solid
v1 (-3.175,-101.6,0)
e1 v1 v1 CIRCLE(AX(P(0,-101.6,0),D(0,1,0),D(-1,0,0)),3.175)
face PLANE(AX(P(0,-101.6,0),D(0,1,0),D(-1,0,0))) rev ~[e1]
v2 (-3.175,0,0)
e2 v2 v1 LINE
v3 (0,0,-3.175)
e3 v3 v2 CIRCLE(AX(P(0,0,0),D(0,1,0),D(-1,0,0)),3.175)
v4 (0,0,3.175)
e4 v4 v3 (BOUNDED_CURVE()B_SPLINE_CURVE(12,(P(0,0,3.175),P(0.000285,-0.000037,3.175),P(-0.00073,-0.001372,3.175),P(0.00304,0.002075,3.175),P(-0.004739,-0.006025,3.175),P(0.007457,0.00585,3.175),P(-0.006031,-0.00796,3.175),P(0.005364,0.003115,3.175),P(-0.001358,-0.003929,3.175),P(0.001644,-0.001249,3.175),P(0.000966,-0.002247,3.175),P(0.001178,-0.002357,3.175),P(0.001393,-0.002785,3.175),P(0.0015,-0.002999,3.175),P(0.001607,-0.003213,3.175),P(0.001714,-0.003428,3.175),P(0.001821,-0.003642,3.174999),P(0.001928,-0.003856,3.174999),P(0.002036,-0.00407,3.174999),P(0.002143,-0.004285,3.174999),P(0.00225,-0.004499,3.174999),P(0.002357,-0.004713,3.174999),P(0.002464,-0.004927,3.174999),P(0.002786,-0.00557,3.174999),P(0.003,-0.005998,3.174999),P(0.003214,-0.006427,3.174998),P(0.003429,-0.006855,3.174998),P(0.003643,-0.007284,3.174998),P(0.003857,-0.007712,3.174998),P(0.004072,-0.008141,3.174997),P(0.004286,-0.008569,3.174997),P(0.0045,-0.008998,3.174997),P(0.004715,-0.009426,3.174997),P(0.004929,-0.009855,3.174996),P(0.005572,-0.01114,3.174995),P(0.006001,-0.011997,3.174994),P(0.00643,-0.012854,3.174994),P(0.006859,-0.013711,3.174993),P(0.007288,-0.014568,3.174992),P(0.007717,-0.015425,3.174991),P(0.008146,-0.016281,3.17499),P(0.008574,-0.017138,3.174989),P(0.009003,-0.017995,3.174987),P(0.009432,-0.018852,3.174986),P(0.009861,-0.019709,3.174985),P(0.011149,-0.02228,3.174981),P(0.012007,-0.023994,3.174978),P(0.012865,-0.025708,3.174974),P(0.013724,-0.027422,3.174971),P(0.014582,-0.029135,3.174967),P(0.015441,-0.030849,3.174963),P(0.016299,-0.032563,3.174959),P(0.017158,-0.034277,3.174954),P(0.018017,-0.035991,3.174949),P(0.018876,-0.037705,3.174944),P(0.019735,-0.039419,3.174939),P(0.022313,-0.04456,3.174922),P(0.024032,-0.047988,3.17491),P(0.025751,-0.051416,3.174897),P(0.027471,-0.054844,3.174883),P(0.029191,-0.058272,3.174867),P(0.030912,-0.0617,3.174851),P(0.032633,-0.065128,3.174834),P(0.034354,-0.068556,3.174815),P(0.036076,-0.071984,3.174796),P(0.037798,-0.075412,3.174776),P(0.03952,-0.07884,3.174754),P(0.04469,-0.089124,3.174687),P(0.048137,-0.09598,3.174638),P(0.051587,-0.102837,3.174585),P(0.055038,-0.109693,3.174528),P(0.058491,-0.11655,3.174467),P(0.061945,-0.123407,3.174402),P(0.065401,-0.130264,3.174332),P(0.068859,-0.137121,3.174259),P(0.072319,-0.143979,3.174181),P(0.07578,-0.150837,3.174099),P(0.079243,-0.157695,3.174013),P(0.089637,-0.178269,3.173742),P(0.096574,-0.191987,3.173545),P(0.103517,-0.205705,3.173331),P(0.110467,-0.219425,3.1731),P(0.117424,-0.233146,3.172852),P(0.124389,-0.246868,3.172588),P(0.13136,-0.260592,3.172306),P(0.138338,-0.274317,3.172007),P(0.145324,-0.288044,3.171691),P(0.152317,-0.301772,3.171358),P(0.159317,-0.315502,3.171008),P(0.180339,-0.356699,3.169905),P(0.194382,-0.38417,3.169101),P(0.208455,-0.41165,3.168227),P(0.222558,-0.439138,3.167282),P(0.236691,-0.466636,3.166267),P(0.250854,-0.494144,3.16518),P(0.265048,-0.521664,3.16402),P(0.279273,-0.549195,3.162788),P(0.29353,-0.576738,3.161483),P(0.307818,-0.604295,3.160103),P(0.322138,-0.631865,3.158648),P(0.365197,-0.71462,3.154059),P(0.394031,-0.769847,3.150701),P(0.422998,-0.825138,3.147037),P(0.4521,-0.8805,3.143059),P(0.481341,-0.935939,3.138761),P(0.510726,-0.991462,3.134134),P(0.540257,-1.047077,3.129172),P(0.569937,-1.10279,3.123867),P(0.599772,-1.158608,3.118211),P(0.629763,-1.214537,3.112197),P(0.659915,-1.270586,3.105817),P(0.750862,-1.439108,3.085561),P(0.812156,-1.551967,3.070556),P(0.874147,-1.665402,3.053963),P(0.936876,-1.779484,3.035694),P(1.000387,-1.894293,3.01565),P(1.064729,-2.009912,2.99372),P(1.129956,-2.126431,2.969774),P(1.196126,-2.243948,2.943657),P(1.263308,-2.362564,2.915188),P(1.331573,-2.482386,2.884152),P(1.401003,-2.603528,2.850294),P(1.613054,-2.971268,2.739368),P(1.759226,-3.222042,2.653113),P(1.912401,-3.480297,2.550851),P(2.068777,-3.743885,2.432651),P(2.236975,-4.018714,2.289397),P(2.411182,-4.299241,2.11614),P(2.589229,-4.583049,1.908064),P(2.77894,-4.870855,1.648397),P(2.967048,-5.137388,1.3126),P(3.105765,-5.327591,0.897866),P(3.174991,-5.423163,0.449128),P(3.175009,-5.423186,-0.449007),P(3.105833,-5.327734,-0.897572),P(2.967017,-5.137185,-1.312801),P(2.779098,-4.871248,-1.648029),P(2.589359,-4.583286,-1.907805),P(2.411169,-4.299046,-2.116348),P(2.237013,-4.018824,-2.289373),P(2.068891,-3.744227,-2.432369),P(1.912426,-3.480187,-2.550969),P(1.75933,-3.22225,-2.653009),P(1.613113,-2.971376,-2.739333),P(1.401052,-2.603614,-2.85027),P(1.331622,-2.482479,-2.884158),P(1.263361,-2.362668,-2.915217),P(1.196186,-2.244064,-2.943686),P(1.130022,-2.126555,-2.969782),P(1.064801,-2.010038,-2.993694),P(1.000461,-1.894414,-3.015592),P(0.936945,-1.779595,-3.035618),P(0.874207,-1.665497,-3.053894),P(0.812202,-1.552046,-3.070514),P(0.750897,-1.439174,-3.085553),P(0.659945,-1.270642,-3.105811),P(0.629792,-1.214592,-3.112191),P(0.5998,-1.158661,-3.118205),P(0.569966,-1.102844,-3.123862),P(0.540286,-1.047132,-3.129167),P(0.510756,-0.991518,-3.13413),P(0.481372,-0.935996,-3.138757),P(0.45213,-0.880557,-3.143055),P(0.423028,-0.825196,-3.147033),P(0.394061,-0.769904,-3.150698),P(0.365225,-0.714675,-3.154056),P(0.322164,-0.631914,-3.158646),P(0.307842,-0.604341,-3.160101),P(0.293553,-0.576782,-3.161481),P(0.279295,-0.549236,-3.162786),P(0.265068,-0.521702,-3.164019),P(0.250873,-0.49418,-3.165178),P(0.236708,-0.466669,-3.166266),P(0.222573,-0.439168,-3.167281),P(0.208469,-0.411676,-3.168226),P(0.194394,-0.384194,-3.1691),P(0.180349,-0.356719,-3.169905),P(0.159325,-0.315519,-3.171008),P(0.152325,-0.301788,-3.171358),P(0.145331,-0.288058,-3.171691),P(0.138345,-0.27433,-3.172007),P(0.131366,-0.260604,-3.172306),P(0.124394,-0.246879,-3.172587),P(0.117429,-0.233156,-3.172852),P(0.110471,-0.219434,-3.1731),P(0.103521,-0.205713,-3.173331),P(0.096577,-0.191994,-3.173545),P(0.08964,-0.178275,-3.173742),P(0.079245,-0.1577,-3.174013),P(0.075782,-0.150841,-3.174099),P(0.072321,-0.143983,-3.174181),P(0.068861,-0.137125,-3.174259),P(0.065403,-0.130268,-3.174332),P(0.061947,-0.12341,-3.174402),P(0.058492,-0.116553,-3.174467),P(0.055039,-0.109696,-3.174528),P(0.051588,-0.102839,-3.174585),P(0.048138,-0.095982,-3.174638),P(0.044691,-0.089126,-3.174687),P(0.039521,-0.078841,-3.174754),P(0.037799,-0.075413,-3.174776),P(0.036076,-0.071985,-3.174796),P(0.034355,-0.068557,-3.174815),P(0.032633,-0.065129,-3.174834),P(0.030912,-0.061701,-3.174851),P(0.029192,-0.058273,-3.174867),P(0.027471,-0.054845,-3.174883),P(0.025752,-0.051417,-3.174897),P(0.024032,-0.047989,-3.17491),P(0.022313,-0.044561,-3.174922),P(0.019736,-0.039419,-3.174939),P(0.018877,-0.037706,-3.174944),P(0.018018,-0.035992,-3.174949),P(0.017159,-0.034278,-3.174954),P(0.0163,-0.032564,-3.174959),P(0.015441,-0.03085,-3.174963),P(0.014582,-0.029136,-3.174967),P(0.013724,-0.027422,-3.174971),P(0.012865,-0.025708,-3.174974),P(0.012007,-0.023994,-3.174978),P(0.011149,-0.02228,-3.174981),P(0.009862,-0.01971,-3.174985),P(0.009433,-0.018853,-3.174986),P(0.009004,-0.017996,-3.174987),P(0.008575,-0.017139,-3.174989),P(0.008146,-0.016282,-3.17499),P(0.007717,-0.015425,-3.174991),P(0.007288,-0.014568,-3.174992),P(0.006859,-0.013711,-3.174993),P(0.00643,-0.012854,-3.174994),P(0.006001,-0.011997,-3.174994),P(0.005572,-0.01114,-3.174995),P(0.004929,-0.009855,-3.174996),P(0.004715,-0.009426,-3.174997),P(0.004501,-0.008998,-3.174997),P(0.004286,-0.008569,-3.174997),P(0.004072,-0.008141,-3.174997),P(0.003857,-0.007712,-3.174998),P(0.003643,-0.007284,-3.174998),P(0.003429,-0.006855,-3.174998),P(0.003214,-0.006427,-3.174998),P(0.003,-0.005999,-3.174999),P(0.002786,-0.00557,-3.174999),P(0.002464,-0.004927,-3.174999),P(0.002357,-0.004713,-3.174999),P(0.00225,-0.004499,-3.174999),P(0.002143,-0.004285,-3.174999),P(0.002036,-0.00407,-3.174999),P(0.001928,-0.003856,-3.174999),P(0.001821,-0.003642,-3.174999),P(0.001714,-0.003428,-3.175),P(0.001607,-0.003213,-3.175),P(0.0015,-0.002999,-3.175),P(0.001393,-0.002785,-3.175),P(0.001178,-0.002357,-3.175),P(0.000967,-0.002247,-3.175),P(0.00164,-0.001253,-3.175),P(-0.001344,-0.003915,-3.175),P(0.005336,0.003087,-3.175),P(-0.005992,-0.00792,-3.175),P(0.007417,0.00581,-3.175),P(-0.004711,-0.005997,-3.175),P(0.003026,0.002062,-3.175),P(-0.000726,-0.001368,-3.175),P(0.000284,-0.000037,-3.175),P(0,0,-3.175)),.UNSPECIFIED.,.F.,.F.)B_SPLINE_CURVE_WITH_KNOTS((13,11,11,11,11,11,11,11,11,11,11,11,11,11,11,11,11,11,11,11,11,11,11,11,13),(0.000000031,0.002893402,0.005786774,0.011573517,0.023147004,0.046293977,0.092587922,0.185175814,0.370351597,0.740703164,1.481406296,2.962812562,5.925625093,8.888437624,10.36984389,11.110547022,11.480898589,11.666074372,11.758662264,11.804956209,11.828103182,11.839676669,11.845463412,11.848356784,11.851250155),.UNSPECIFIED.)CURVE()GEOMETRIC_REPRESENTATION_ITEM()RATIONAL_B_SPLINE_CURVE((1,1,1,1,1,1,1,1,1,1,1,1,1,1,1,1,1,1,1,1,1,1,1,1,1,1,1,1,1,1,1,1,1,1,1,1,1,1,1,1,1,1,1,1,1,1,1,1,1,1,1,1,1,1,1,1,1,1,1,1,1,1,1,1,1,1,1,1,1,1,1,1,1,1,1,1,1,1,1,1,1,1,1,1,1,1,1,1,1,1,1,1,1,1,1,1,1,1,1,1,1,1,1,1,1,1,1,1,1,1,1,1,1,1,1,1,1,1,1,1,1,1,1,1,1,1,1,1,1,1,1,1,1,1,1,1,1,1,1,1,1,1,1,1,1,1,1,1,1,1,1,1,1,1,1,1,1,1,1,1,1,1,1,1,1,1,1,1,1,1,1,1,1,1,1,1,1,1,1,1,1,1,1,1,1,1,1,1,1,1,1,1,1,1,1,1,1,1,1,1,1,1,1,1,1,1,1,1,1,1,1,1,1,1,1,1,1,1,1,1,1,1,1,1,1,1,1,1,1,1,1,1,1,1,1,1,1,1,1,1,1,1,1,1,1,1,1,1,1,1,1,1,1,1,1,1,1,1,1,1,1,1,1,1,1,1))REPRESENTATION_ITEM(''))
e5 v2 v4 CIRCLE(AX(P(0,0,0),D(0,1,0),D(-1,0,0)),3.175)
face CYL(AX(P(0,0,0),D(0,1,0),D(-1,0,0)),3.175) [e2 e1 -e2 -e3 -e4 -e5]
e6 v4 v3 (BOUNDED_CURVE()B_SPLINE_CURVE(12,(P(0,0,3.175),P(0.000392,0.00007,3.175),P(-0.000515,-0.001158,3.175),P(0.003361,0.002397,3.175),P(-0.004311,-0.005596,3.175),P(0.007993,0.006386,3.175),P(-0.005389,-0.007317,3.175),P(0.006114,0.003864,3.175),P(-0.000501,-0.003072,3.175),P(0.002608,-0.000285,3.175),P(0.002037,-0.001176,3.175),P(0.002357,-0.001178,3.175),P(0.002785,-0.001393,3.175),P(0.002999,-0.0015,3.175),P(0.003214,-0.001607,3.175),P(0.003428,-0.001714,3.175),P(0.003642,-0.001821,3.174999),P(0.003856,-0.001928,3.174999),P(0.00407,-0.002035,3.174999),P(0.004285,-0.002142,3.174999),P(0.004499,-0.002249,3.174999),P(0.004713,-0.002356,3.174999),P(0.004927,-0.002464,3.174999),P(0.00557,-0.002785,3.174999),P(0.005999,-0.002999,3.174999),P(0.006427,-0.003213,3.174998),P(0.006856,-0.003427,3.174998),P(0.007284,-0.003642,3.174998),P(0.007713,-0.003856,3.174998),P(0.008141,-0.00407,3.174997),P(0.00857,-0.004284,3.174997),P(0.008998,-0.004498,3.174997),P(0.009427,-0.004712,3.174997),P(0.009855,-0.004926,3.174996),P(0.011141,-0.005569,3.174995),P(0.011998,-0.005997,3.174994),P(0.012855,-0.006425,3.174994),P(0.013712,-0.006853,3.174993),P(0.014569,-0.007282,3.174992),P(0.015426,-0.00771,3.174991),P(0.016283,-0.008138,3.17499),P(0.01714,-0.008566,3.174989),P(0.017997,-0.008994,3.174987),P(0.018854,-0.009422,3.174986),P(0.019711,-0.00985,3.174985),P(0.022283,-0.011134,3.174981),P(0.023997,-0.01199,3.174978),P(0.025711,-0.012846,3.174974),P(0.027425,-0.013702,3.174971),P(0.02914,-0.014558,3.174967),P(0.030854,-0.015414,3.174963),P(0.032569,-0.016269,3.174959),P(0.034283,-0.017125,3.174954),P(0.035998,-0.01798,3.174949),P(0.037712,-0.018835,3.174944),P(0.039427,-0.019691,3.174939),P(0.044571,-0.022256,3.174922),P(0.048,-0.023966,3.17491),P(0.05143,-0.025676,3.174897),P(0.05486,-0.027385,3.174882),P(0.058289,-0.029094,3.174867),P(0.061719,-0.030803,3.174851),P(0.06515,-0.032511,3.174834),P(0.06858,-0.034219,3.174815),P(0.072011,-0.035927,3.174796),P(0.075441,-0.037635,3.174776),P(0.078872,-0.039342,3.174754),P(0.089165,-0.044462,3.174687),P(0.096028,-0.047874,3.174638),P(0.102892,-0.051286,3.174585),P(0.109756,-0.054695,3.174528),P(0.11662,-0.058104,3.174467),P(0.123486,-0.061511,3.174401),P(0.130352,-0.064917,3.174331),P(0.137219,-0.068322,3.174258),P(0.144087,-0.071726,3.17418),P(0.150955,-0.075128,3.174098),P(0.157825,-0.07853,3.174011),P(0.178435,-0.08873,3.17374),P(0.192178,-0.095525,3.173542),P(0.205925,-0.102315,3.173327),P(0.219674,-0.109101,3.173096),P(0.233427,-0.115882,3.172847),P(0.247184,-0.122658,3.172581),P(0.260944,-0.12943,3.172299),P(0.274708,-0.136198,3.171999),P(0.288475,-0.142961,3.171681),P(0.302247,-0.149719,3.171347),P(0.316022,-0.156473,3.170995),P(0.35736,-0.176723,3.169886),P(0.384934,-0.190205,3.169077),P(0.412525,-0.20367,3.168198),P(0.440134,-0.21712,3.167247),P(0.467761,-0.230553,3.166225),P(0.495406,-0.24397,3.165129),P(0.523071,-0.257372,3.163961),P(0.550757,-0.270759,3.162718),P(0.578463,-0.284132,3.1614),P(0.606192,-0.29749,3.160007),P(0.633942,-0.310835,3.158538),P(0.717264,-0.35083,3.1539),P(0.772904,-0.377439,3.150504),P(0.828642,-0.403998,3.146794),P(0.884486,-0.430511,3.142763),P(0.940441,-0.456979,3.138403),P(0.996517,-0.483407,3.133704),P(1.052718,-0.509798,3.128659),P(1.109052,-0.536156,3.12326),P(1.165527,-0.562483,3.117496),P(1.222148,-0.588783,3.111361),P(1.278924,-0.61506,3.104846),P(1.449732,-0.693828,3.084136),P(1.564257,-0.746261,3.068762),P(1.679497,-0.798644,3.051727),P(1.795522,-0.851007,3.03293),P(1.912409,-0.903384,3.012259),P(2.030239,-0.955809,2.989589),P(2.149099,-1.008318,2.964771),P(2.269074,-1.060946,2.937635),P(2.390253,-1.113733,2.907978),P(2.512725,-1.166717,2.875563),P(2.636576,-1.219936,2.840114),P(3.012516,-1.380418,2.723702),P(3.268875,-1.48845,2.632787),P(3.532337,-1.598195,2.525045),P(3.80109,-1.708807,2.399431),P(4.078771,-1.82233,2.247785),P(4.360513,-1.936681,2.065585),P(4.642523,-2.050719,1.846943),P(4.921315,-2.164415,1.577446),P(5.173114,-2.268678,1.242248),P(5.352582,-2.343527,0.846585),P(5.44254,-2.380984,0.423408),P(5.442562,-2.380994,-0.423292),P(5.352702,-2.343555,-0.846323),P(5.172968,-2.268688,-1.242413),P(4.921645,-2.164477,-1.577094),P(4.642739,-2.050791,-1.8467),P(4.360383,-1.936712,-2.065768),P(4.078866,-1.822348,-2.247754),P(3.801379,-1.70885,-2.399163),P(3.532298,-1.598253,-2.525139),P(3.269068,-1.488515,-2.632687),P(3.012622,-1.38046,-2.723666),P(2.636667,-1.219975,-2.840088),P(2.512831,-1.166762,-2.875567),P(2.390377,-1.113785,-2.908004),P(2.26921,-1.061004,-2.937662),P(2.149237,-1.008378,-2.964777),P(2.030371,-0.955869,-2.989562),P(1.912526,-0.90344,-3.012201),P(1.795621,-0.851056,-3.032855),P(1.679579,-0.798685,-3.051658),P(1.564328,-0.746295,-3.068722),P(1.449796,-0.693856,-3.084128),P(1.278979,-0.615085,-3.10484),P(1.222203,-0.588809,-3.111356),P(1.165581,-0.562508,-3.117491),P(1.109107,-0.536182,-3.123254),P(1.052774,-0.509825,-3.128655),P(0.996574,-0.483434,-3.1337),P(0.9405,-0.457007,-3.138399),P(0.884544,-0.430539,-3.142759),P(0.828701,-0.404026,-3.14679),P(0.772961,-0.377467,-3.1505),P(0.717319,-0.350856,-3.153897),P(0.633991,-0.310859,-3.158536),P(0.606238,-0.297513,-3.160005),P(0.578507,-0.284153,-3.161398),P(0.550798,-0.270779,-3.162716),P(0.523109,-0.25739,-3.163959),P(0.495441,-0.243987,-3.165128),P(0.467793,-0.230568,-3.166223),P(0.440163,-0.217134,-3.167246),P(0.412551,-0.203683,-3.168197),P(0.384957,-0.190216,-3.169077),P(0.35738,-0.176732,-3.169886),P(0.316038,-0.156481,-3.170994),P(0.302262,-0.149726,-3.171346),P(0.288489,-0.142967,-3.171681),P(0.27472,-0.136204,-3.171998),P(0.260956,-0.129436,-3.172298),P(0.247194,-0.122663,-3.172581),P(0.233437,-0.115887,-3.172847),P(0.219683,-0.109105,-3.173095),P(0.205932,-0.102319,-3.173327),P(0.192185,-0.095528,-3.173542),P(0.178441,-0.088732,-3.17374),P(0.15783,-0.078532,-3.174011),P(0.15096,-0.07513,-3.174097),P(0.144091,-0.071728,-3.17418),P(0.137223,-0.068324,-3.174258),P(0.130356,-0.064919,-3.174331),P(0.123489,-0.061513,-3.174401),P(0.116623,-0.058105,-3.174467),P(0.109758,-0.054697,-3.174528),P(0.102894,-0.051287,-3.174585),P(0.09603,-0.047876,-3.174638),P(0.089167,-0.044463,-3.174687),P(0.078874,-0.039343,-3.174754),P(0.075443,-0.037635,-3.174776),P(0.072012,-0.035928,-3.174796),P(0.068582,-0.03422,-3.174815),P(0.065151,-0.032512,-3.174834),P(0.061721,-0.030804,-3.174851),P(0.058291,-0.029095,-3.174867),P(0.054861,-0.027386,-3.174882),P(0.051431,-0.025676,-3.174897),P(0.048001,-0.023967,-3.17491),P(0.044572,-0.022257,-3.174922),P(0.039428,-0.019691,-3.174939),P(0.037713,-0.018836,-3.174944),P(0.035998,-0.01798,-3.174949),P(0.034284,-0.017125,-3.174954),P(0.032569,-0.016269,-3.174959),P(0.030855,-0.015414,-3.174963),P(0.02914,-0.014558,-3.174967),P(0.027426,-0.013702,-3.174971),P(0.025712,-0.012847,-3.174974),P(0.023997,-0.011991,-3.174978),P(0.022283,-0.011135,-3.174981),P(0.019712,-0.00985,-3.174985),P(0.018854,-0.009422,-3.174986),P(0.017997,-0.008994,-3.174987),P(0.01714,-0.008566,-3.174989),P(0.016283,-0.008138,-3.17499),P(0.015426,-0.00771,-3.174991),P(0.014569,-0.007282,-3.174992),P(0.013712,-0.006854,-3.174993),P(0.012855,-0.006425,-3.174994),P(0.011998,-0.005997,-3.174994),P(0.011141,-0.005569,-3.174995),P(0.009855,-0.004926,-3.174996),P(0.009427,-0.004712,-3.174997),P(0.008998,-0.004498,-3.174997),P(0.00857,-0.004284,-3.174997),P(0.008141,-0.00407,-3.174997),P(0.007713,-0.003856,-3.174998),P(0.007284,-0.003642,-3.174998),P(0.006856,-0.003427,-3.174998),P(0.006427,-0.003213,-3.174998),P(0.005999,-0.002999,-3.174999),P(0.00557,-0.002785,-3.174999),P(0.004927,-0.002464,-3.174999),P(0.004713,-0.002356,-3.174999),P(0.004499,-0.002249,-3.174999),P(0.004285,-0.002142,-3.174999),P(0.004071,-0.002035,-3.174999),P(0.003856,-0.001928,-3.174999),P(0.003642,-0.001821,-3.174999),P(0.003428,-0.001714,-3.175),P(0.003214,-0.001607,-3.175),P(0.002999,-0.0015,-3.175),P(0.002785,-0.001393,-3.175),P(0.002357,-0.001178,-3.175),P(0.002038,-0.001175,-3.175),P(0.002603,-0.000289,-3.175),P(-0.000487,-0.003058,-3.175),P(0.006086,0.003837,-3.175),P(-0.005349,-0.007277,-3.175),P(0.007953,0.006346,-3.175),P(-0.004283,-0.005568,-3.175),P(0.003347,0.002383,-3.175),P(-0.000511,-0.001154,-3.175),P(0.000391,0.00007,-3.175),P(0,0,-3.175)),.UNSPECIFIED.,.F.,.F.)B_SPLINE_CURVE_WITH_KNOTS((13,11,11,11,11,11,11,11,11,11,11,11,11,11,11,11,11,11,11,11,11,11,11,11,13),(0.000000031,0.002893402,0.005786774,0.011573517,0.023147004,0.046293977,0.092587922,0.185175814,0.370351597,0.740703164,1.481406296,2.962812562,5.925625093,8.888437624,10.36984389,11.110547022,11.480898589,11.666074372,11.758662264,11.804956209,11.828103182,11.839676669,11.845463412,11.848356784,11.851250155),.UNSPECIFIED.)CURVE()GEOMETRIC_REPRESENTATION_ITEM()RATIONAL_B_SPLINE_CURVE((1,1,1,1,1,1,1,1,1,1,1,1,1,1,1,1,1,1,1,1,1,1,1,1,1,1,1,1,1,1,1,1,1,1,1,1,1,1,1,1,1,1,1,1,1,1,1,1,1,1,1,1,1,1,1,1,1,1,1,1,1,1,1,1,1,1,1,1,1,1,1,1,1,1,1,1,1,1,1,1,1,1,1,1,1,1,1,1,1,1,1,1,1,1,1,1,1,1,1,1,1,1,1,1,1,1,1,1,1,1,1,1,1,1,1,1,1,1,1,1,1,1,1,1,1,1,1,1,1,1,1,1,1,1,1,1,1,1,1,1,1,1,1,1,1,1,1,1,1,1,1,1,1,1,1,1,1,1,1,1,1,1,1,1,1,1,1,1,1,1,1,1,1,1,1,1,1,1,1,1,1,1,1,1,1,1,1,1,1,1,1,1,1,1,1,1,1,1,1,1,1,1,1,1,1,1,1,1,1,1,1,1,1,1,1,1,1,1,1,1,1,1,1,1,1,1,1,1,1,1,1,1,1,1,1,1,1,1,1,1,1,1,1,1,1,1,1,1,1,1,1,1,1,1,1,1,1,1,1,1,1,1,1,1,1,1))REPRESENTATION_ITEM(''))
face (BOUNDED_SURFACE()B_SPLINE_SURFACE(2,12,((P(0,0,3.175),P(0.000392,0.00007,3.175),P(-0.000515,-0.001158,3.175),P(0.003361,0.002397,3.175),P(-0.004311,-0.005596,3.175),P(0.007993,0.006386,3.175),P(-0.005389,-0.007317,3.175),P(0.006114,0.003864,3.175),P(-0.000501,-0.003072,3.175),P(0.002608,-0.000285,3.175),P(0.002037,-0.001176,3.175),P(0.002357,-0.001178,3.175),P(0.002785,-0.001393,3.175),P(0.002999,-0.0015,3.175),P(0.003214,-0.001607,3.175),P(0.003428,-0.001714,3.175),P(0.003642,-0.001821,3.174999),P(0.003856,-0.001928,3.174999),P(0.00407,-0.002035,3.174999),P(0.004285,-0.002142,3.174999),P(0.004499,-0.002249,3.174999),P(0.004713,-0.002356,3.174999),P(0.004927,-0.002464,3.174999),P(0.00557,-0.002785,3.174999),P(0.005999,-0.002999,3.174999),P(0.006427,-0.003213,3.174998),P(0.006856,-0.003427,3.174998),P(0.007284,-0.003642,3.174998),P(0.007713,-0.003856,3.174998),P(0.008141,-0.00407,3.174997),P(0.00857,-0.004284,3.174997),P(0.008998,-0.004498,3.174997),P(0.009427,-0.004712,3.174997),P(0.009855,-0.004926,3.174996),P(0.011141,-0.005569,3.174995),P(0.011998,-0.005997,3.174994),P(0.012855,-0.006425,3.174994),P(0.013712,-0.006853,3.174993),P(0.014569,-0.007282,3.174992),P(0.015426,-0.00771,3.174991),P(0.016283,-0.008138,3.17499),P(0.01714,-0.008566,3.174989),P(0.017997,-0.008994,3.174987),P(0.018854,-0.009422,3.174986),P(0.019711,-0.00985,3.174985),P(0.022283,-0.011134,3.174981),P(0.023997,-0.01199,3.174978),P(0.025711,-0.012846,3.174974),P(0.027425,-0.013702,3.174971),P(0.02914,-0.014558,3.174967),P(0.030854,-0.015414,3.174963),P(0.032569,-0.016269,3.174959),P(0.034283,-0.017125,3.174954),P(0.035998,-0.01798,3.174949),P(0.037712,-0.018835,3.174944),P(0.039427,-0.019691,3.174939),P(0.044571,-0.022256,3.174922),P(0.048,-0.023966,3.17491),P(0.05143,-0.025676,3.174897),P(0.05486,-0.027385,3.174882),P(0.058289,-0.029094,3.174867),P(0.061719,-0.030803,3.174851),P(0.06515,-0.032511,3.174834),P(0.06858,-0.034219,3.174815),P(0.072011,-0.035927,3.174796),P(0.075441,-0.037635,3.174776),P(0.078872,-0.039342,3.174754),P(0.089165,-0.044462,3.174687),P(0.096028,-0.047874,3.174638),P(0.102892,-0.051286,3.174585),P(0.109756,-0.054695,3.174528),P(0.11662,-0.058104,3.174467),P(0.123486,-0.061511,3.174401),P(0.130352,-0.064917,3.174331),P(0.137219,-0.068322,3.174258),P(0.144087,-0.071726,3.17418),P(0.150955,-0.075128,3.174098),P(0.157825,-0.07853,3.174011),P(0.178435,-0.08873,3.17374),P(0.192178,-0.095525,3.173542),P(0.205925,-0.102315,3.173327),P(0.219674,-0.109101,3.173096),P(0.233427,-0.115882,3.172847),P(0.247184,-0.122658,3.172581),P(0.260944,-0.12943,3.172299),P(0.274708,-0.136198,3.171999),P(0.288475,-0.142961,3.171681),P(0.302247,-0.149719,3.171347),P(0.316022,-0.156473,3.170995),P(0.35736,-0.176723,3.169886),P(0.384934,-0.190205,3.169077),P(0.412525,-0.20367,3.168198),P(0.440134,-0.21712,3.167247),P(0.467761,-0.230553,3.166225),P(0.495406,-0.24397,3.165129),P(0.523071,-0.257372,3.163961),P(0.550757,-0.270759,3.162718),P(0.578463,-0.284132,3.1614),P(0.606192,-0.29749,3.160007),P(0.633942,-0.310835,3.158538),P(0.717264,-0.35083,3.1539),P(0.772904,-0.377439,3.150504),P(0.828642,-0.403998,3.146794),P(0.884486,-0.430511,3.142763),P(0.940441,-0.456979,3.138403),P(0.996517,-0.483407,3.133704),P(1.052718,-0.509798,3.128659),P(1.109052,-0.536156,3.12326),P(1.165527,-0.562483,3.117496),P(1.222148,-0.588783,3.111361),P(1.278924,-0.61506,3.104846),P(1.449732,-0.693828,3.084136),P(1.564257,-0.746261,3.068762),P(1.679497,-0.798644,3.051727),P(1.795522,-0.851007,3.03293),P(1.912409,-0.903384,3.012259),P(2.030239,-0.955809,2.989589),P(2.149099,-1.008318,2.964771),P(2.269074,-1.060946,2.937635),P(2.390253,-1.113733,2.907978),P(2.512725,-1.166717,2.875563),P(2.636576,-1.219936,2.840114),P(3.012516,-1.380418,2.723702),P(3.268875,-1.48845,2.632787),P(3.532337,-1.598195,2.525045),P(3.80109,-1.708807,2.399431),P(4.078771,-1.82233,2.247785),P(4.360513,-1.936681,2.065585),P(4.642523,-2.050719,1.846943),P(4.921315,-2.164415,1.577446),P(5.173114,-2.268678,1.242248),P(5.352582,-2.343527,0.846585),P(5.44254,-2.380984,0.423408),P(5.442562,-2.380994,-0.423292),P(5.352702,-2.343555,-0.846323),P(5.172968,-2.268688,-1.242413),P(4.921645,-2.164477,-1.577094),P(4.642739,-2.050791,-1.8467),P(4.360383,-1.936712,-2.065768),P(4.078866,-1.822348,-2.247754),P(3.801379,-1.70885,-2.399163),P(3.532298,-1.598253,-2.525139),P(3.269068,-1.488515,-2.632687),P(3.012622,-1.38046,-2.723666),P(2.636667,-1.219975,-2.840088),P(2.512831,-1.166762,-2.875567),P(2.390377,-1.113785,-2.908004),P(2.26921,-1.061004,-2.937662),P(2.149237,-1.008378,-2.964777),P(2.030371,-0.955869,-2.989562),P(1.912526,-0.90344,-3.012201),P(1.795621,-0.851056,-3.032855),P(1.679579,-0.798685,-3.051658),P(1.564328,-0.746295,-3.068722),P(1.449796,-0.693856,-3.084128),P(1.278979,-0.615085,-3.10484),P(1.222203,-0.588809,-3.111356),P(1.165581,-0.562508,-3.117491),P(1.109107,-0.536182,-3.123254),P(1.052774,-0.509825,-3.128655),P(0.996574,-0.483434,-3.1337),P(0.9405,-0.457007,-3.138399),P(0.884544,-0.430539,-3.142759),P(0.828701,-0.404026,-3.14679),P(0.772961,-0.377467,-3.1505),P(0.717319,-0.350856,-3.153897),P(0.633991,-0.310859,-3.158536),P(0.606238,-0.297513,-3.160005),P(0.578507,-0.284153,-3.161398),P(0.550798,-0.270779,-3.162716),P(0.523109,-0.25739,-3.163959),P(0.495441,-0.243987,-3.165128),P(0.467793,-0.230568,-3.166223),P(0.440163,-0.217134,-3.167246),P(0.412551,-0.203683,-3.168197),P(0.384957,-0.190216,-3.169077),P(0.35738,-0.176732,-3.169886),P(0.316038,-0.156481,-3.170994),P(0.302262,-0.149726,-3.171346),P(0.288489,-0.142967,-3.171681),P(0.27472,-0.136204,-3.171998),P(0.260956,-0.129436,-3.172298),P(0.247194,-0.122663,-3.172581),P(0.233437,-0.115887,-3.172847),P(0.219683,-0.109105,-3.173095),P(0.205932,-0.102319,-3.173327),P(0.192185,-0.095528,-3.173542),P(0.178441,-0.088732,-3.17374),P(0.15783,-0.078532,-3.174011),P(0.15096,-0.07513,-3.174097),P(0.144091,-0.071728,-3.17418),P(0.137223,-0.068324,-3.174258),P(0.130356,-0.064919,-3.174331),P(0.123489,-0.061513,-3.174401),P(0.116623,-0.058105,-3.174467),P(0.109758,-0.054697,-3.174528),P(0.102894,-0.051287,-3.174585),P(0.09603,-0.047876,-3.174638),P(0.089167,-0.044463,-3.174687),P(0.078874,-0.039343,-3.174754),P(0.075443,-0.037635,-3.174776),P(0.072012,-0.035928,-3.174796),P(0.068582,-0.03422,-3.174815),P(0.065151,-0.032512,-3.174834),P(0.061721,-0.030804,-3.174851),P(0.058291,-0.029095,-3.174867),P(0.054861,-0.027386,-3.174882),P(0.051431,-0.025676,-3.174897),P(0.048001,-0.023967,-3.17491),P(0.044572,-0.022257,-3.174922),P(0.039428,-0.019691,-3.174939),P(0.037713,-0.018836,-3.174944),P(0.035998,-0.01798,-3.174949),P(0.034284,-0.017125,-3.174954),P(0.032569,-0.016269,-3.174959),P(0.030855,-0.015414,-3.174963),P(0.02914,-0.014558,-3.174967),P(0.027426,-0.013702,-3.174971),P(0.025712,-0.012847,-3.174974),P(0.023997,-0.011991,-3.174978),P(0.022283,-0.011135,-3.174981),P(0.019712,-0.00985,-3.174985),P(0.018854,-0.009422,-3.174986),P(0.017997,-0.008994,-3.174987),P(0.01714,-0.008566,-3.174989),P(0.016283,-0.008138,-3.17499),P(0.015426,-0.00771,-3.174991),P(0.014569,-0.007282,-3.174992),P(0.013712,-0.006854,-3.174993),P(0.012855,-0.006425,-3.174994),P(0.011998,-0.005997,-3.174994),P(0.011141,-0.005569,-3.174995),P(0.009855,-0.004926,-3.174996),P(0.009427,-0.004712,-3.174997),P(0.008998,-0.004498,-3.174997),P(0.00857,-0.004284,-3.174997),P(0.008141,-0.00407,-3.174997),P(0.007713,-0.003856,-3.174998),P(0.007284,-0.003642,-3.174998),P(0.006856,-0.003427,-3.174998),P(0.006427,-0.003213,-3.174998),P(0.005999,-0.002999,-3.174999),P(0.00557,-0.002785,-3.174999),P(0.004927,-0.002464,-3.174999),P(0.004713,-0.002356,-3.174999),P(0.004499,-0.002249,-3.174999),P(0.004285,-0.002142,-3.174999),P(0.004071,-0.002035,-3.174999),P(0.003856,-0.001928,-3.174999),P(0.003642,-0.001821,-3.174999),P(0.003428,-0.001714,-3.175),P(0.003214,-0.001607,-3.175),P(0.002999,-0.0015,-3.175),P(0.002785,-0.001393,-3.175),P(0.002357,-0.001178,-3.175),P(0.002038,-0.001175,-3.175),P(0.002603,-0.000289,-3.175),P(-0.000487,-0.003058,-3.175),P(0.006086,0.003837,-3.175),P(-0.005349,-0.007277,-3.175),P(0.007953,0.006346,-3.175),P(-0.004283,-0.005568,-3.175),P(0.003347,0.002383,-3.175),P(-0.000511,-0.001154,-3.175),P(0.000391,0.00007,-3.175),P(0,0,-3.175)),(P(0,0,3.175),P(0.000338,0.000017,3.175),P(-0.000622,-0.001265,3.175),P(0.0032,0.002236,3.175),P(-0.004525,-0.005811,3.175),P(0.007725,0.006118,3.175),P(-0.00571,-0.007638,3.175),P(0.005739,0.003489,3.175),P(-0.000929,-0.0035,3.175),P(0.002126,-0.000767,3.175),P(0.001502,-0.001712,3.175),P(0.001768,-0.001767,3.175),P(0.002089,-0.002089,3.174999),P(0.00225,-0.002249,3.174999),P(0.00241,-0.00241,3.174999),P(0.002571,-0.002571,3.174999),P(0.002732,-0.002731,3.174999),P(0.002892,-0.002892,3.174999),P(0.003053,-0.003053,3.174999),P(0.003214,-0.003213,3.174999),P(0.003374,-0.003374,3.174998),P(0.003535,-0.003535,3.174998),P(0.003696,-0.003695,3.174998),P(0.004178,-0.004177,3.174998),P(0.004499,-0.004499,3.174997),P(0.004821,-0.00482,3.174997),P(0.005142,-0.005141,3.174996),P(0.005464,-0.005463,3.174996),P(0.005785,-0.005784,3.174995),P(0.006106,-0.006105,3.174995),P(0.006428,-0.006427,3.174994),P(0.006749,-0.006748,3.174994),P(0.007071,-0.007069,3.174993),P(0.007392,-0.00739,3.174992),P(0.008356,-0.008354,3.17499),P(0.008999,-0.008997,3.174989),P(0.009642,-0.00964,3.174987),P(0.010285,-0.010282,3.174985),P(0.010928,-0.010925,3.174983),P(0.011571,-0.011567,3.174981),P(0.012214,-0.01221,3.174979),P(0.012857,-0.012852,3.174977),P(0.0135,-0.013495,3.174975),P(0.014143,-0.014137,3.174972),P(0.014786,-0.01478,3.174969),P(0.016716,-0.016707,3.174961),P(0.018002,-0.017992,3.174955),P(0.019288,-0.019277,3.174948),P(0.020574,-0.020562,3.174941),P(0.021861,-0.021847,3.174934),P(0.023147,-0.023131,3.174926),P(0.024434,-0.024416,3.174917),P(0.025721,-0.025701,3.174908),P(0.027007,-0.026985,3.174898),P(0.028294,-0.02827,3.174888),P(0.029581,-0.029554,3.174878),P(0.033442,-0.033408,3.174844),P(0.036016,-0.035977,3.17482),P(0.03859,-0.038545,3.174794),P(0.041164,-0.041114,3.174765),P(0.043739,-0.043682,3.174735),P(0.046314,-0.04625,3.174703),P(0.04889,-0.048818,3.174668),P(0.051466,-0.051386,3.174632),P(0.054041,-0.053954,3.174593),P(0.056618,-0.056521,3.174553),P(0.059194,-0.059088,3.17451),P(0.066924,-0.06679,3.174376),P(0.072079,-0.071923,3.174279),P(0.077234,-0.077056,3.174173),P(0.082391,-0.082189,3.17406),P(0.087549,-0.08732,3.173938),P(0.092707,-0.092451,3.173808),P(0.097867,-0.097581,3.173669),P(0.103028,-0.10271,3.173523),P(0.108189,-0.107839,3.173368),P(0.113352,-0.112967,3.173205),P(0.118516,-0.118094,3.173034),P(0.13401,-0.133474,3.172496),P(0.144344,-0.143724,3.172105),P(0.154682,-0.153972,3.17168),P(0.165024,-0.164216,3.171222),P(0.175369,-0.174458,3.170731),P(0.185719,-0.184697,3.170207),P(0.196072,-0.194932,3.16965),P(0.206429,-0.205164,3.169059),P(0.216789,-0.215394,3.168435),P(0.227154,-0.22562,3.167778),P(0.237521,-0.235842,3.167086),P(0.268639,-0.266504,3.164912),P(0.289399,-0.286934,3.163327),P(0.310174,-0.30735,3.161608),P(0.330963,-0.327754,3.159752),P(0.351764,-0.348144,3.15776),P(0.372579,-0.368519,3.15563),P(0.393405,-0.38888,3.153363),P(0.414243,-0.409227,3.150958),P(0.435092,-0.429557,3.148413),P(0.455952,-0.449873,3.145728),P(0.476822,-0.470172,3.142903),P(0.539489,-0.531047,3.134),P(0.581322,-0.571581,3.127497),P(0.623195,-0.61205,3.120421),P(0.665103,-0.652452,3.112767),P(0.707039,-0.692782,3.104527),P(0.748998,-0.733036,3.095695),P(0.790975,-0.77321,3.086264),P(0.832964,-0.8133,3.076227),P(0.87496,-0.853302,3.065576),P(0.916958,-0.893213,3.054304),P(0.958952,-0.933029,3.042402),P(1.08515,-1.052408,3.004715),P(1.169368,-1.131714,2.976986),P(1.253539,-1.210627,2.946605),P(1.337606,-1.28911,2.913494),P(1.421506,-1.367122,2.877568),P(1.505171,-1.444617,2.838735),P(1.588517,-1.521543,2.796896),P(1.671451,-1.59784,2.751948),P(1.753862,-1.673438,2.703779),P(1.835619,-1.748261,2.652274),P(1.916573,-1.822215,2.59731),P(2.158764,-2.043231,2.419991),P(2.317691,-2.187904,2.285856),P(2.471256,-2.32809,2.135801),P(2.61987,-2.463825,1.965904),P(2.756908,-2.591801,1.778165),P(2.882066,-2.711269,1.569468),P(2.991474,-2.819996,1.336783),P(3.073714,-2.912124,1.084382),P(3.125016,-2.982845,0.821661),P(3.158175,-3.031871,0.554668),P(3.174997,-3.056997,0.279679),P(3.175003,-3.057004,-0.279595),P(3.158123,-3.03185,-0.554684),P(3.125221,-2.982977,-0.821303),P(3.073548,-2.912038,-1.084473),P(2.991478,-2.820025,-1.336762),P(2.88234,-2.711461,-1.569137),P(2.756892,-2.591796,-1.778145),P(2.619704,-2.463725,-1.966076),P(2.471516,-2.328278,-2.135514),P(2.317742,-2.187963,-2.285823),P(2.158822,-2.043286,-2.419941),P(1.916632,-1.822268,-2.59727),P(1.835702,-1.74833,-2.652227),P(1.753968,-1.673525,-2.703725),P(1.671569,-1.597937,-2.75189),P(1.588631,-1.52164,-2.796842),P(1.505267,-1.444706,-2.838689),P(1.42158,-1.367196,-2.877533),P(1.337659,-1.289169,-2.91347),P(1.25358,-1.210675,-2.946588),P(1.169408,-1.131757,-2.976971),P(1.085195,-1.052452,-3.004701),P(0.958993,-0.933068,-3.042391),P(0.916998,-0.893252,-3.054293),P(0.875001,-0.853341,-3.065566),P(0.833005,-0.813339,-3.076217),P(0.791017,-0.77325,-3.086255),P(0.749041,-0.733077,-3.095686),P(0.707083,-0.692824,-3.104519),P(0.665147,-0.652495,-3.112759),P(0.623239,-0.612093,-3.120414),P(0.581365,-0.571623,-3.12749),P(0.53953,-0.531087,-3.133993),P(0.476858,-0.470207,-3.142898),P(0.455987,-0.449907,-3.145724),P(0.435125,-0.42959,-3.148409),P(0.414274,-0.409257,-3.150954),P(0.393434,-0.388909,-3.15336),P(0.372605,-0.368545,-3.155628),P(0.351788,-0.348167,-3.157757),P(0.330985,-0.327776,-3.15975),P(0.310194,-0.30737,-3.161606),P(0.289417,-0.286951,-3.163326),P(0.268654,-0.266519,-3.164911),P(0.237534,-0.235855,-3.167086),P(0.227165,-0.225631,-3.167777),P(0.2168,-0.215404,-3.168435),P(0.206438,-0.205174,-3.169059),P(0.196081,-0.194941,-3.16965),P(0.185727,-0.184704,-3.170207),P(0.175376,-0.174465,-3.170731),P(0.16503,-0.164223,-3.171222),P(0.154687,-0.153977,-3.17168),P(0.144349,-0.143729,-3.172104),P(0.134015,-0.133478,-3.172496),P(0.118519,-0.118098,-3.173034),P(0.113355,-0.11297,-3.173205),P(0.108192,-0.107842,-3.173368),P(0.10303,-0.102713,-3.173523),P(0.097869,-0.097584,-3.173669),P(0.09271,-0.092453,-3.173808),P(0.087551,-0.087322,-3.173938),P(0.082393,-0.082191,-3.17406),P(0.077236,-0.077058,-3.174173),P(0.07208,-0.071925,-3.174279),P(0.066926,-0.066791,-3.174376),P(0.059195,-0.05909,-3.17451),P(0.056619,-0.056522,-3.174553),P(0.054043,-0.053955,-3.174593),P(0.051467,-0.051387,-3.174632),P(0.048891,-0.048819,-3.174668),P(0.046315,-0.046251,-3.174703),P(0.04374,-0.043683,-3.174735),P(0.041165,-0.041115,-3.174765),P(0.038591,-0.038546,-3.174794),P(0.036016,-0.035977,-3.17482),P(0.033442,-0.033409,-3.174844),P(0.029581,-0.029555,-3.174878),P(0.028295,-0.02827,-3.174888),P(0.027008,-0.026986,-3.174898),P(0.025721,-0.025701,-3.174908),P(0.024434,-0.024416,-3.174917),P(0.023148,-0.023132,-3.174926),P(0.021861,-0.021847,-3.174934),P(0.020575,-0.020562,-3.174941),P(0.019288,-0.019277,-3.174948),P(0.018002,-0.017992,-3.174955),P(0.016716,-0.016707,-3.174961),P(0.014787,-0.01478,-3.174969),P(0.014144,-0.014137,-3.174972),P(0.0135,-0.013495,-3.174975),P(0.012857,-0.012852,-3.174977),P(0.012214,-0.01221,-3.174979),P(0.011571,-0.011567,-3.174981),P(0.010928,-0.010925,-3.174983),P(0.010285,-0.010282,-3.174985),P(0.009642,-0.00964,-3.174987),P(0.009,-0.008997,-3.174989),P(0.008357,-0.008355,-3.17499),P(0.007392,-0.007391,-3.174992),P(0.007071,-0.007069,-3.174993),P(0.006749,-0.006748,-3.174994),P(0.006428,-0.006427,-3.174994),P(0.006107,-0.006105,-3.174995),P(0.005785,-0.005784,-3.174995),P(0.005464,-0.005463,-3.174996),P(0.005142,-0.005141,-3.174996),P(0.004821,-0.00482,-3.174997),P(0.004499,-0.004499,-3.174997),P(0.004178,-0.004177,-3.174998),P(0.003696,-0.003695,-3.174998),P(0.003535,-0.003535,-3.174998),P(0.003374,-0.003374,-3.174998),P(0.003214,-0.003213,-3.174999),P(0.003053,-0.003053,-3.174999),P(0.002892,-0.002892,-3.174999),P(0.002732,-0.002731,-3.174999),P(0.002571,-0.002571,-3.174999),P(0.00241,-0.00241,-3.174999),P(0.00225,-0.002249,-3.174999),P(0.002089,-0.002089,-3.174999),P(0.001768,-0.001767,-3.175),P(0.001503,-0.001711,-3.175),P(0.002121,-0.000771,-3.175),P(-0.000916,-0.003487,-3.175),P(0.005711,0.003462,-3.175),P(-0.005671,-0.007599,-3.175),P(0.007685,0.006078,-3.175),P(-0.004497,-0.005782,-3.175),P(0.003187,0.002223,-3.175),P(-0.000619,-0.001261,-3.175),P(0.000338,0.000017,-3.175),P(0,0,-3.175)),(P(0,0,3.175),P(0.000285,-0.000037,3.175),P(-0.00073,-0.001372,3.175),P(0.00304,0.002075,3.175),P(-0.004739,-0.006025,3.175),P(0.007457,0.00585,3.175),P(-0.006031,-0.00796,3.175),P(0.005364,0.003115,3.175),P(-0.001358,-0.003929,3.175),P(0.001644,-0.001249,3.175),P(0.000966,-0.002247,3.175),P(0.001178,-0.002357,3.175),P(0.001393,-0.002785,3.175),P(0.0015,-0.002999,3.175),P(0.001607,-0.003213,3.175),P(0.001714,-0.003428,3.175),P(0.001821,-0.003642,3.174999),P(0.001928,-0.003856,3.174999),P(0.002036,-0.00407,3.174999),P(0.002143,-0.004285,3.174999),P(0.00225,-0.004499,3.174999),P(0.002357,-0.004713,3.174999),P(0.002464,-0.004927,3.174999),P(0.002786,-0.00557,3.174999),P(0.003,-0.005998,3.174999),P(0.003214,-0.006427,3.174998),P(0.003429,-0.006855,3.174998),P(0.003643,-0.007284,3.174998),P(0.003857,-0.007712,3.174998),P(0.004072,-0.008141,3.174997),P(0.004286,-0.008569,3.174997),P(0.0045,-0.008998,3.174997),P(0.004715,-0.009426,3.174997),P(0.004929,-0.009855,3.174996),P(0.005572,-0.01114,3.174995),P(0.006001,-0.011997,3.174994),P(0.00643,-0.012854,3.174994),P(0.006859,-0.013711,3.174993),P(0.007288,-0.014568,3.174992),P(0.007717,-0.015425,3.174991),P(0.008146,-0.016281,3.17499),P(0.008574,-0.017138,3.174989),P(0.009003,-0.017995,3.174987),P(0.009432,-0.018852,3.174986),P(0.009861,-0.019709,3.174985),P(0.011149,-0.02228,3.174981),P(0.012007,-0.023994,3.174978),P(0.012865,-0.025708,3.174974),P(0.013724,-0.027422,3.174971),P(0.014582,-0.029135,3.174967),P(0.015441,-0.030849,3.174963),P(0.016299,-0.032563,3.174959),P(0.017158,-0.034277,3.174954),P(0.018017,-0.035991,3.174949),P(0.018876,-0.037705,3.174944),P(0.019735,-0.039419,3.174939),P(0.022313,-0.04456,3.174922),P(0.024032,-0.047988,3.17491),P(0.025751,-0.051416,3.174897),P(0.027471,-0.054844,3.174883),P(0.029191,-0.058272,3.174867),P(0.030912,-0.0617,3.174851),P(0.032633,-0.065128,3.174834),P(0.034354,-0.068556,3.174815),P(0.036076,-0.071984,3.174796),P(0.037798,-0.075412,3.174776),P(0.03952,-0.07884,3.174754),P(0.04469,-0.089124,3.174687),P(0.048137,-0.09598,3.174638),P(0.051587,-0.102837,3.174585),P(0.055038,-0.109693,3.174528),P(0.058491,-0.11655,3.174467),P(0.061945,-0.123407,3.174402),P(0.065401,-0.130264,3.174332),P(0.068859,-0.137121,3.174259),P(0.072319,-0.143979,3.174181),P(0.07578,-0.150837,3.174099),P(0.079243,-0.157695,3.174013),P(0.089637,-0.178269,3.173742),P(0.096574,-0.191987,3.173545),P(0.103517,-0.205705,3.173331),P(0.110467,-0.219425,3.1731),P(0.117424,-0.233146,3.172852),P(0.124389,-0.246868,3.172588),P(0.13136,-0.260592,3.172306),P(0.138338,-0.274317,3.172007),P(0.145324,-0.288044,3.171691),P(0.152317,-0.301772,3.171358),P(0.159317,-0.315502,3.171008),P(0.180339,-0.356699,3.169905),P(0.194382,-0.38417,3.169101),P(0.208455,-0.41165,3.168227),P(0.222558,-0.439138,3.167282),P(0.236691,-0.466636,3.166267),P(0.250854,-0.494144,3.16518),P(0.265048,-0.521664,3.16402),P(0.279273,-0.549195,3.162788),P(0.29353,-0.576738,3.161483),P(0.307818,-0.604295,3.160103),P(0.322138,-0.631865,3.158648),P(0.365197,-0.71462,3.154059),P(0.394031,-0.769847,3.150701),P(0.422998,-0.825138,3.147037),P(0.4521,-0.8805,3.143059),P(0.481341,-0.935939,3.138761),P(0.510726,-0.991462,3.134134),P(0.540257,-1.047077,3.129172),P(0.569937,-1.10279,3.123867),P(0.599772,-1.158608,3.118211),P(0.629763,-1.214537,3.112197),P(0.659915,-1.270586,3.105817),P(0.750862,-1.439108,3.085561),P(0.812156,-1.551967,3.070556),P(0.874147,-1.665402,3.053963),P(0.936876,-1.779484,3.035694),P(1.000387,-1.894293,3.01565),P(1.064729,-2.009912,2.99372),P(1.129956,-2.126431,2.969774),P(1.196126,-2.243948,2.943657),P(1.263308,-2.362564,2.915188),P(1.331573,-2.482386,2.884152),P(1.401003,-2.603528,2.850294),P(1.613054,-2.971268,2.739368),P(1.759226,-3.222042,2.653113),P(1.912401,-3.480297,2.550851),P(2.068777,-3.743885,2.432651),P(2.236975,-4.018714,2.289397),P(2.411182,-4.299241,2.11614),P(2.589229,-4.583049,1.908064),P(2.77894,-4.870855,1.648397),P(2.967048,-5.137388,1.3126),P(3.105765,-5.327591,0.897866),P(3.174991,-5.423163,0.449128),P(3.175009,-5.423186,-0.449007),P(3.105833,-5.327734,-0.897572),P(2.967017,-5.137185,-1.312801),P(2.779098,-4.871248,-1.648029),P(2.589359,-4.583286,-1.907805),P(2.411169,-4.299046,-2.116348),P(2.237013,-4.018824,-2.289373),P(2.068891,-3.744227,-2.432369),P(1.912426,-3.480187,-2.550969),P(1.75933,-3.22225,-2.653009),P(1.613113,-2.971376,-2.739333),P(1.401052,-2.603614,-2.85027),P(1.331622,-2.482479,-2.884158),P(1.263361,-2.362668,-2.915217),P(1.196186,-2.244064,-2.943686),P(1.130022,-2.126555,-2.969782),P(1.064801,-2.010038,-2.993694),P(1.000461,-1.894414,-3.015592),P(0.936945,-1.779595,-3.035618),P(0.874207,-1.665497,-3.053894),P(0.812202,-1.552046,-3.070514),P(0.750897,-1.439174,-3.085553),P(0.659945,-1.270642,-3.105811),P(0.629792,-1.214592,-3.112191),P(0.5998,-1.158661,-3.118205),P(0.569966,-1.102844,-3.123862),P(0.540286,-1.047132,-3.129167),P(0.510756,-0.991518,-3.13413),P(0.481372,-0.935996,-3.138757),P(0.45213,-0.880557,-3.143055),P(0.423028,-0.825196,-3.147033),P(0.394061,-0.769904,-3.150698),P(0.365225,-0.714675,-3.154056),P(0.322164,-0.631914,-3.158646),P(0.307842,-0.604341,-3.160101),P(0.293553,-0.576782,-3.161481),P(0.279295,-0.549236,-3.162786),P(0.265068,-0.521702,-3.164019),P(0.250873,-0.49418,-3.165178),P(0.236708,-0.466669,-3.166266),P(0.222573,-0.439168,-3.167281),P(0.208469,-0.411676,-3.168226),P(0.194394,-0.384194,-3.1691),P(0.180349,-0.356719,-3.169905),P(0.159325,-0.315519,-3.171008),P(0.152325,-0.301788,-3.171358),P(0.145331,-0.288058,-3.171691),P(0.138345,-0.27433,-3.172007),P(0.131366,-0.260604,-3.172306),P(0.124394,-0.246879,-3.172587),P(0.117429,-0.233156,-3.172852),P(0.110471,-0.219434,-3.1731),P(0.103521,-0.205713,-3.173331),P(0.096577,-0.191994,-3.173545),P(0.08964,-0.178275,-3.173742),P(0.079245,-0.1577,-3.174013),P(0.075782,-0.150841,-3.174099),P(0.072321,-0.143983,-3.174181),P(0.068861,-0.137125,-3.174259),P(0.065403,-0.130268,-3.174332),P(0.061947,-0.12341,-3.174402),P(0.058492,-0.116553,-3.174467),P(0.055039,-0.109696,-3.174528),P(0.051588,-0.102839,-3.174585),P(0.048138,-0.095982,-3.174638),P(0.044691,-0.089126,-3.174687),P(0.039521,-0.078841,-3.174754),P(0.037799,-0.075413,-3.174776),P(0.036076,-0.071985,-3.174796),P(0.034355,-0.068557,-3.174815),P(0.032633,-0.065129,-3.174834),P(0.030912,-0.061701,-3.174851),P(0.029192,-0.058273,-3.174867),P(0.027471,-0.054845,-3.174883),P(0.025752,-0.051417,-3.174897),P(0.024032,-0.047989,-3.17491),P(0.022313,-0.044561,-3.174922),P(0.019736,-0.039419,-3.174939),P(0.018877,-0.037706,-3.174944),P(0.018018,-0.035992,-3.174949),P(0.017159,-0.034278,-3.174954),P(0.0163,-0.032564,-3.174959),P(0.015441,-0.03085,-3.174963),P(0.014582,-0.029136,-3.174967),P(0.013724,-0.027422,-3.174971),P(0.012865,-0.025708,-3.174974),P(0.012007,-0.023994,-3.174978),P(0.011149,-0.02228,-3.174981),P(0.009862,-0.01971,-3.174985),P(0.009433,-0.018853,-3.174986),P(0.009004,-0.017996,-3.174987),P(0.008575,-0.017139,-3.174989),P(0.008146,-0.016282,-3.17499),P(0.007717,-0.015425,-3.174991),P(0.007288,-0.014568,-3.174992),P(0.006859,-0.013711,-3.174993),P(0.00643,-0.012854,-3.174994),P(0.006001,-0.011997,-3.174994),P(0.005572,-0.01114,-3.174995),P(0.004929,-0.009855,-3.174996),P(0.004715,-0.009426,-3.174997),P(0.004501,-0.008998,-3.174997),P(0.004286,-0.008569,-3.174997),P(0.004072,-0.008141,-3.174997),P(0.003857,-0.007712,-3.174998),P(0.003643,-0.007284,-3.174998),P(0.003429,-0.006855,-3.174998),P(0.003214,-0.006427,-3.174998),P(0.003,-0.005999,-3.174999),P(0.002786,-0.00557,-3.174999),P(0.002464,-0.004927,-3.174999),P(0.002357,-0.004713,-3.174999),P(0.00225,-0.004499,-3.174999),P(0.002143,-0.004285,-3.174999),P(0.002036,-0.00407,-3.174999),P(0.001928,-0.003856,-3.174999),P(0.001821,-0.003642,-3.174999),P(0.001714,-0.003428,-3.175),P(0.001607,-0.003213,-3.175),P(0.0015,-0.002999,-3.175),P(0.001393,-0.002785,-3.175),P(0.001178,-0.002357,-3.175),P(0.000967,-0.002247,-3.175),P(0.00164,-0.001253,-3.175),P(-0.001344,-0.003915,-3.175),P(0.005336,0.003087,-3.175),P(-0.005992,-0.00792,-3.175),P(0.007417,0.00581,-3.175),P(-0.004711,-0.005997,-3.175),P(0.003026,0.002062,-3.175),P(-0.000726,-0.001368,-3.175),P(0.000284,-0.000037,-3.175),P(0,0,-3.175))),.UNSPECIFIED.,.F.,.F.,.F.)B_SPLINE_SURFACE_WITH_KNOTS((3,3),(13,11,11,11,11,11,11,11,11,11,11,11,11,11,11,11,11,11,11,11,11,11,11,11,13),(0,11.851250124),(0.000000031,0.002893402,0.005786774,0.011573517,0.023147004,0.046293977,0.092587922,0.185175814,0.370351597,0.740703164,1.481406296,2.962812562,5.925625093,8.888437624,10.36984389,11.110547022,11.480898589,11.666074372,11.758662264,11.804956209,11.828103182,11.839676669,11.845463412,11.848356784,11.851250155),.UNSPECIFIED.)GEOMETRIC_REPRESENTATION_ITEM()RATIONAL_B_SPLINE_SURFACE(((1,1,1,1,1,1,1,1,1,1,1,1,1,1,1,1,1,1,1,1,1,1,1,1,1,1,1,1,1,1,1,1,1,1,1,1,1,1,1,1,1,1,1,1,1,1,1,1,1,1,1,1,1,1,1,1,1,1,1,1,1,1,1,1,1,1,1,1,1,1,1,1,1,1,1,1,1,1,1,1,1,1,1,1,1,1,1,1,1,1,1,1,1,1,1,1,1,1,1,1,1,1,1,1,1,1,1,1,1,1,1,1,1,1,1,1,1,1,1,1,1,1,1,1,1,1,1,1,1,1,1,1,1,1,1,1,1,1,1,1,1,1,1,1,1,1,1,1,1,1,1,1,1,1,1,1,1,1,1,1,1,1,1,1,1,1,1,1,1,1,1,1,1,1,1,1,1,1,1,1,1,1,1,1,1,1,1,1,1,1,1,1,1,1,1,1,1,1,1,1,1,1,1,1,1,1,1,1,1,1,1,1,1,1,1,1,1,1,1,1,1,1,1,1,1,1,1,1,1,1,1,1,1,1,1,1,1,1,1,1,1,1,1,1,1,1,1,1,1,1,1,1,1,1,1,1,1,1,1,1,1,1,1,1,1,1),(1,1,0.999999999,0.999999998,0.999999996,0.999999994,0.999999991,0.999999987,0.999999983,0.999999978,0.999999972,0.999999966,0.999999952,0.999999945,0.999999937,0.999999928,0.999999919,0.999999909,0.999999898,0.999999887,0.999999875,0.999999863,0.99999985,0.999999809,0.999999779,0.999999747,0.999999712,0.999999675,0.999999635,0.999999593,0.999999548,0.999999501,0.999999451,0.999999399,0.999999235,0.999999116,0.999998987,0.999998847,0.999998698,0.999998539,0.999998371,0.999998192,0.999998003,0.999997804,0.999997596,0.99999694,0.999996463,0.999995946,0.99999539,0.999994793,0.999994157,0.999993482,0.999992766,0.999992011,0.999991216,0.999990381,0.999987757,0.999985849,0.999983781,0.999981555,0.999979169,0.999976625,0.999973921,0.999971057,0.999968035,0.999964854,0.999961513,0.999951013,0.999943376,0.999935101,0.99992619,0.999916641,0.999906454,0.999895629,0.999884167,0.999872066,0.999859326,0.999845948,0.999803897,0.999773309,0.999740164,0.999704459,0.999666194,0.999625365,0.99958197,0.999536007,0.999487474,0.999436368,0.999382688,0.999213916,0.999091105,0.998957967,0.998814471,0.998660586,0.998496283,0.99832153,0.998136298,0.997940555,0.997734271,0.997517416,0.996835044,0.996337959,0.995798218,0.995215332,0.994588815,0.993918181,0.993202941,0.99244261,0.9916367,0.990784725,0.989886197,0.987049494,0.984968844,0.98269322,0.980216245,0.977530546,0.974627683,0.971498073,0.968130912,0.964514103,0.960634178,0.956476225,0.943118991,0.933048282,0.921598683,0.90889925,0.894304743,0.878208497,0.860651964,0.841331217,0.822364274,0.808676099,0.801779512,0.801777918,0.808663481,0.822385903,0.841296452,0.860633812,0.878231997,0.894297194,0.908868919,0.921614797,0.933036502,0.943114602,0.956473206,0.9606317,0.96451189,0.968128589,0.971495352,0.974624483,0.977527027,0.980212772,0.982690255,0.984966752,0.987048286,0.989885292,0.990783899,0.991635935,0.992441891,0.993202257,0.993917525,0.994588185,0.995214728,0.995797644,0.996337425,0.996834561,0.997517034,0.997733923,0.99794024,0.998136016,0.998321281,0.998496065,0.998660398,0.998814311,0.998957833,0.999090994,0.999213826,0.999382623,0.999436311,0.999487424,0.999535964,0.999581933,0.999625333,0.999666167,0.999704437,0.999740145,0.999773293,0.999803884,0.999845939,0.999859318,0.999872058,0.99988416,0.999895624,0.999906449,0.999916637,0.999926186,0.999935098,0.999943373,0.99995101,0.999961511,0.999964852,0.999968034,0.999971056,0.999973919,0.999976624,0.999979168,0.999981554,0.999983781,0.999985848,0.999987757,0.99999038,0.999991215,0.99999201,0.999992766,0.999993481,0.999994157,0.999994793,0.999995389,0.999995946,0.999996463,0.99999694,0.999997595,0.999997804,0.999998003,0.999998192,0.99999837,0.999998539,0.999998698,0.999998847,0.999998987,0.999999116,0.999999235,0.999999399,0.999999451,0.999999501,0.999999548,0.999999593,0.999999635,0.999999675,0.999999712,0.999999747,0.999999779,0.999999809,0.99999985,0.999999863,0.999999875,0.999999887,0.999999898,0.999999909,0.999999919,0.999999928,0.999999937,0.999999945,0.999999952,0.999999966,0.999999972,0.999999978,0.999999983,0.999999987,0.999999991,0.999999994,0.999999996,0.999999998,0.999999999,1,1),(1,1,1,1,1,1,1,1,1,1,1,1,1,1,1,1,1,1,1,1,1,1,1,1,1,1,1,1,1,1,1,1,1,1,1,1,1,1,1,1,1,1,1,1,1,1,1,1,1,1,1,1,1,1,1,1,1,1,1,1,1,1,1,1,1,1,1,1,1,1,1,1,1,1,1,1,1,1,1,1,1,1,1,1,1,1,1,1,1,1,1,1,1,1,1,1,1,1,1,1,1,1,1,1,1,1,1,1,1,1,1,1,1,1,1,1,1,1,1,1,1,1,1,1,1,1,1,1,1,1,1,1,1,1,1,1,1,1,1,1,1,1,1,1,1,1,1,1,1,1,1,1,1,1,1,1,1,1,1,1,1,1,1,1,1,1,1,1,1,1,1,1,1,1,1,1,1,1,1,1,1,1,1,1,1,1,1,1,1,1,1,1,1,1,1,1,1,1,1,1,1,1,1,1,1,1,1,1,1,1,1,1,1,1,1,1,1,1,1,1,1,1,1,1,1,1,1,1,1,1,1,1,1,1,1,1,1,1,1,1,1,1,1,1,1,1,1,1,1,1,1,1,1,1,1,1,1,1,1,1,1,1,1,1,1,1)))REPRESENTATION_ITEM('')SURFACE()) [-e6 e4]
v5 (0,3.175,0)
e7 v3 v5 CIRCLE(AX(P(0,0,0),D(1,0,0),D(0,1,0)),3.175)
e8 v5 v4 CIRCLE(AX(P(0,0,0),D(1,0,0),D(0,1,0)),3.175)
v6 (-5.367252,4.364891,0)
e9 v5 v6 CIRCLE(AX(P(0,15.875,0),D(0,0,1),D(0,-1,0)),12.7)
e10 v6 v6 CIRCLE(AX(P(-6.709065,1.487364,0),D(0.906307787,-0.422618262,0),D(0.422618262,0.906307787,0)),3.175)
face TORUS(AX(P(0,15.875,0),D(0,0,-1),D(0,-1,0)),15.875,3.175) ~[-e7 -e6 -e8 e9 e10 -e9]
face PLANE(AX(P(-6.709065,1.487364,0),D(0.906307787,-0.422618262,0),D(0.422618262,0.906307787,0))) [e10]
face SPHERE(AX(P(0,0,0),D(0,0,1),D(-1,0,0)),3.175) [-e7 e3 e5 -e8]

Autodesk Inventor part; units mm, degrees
ref_plane "YZ Plane" through (0, 0, 0) normal (1, 0, 0) x (0, 1, 0)
ref_plane "XZ Plane" through (0, 0, 0) normal (0, 1, 0) x (-1, 0, 0)
ref_plane "XY Plane" through (0, 0, 0) normal (0, 0, 1) x (1, 0, 0)
sketch "Sketch1" plane through (0, 0, 0) normal (1, 0, 0) x (0, 1, 0)
  circle A0 centre (0, 0) radius 3.175
  line L0 (3.175, 0) -> (15.875, 0)
  line L1 (15.875, 0) -> (15.875, 11.0604)
  dimension "d0" = 6.35
  dimension "d1" = 12.7
revolve "Revolution1" add sketch "Sketch1" angle 335 about axis through (0, 15.875, 0) along (0, 0, 1)
sketch "Sketch2" plane through (0, 0, 0) normal (0, 1, 0) x (-1, 0, 0)
  circle A0 centre (0, 0) radius 3.175
  line L0 (15.875, -3.175) -> (-15.875, -3.175) projected
extrude "Extrusion1" add sketch "Sketch2" against normal blind 101.6
sketch "Sketch3" plane through (0, 0, 0) normal (0, 1, 0) x (1, 0, 0)
  line L0 (0, 3.175) -> (0, -3.175) projected
  arc A0 (0, 3.175) -> (0, -3.175) centre (0, 0) ccw projected
revolve "Revolution2" add sketch "Sketch3" angle 360 about axis through (0, 0, -3.175) along (0, 0, 1)
fillet "Fillet1" radius 3.175 1 edges at (3.175, -2.9086, 0)
thread "Thread1" size "1/4-20 UNC" class "2A" standard "ANSI Unified Screw Threads" full length
properties part number "EyeBolt"
